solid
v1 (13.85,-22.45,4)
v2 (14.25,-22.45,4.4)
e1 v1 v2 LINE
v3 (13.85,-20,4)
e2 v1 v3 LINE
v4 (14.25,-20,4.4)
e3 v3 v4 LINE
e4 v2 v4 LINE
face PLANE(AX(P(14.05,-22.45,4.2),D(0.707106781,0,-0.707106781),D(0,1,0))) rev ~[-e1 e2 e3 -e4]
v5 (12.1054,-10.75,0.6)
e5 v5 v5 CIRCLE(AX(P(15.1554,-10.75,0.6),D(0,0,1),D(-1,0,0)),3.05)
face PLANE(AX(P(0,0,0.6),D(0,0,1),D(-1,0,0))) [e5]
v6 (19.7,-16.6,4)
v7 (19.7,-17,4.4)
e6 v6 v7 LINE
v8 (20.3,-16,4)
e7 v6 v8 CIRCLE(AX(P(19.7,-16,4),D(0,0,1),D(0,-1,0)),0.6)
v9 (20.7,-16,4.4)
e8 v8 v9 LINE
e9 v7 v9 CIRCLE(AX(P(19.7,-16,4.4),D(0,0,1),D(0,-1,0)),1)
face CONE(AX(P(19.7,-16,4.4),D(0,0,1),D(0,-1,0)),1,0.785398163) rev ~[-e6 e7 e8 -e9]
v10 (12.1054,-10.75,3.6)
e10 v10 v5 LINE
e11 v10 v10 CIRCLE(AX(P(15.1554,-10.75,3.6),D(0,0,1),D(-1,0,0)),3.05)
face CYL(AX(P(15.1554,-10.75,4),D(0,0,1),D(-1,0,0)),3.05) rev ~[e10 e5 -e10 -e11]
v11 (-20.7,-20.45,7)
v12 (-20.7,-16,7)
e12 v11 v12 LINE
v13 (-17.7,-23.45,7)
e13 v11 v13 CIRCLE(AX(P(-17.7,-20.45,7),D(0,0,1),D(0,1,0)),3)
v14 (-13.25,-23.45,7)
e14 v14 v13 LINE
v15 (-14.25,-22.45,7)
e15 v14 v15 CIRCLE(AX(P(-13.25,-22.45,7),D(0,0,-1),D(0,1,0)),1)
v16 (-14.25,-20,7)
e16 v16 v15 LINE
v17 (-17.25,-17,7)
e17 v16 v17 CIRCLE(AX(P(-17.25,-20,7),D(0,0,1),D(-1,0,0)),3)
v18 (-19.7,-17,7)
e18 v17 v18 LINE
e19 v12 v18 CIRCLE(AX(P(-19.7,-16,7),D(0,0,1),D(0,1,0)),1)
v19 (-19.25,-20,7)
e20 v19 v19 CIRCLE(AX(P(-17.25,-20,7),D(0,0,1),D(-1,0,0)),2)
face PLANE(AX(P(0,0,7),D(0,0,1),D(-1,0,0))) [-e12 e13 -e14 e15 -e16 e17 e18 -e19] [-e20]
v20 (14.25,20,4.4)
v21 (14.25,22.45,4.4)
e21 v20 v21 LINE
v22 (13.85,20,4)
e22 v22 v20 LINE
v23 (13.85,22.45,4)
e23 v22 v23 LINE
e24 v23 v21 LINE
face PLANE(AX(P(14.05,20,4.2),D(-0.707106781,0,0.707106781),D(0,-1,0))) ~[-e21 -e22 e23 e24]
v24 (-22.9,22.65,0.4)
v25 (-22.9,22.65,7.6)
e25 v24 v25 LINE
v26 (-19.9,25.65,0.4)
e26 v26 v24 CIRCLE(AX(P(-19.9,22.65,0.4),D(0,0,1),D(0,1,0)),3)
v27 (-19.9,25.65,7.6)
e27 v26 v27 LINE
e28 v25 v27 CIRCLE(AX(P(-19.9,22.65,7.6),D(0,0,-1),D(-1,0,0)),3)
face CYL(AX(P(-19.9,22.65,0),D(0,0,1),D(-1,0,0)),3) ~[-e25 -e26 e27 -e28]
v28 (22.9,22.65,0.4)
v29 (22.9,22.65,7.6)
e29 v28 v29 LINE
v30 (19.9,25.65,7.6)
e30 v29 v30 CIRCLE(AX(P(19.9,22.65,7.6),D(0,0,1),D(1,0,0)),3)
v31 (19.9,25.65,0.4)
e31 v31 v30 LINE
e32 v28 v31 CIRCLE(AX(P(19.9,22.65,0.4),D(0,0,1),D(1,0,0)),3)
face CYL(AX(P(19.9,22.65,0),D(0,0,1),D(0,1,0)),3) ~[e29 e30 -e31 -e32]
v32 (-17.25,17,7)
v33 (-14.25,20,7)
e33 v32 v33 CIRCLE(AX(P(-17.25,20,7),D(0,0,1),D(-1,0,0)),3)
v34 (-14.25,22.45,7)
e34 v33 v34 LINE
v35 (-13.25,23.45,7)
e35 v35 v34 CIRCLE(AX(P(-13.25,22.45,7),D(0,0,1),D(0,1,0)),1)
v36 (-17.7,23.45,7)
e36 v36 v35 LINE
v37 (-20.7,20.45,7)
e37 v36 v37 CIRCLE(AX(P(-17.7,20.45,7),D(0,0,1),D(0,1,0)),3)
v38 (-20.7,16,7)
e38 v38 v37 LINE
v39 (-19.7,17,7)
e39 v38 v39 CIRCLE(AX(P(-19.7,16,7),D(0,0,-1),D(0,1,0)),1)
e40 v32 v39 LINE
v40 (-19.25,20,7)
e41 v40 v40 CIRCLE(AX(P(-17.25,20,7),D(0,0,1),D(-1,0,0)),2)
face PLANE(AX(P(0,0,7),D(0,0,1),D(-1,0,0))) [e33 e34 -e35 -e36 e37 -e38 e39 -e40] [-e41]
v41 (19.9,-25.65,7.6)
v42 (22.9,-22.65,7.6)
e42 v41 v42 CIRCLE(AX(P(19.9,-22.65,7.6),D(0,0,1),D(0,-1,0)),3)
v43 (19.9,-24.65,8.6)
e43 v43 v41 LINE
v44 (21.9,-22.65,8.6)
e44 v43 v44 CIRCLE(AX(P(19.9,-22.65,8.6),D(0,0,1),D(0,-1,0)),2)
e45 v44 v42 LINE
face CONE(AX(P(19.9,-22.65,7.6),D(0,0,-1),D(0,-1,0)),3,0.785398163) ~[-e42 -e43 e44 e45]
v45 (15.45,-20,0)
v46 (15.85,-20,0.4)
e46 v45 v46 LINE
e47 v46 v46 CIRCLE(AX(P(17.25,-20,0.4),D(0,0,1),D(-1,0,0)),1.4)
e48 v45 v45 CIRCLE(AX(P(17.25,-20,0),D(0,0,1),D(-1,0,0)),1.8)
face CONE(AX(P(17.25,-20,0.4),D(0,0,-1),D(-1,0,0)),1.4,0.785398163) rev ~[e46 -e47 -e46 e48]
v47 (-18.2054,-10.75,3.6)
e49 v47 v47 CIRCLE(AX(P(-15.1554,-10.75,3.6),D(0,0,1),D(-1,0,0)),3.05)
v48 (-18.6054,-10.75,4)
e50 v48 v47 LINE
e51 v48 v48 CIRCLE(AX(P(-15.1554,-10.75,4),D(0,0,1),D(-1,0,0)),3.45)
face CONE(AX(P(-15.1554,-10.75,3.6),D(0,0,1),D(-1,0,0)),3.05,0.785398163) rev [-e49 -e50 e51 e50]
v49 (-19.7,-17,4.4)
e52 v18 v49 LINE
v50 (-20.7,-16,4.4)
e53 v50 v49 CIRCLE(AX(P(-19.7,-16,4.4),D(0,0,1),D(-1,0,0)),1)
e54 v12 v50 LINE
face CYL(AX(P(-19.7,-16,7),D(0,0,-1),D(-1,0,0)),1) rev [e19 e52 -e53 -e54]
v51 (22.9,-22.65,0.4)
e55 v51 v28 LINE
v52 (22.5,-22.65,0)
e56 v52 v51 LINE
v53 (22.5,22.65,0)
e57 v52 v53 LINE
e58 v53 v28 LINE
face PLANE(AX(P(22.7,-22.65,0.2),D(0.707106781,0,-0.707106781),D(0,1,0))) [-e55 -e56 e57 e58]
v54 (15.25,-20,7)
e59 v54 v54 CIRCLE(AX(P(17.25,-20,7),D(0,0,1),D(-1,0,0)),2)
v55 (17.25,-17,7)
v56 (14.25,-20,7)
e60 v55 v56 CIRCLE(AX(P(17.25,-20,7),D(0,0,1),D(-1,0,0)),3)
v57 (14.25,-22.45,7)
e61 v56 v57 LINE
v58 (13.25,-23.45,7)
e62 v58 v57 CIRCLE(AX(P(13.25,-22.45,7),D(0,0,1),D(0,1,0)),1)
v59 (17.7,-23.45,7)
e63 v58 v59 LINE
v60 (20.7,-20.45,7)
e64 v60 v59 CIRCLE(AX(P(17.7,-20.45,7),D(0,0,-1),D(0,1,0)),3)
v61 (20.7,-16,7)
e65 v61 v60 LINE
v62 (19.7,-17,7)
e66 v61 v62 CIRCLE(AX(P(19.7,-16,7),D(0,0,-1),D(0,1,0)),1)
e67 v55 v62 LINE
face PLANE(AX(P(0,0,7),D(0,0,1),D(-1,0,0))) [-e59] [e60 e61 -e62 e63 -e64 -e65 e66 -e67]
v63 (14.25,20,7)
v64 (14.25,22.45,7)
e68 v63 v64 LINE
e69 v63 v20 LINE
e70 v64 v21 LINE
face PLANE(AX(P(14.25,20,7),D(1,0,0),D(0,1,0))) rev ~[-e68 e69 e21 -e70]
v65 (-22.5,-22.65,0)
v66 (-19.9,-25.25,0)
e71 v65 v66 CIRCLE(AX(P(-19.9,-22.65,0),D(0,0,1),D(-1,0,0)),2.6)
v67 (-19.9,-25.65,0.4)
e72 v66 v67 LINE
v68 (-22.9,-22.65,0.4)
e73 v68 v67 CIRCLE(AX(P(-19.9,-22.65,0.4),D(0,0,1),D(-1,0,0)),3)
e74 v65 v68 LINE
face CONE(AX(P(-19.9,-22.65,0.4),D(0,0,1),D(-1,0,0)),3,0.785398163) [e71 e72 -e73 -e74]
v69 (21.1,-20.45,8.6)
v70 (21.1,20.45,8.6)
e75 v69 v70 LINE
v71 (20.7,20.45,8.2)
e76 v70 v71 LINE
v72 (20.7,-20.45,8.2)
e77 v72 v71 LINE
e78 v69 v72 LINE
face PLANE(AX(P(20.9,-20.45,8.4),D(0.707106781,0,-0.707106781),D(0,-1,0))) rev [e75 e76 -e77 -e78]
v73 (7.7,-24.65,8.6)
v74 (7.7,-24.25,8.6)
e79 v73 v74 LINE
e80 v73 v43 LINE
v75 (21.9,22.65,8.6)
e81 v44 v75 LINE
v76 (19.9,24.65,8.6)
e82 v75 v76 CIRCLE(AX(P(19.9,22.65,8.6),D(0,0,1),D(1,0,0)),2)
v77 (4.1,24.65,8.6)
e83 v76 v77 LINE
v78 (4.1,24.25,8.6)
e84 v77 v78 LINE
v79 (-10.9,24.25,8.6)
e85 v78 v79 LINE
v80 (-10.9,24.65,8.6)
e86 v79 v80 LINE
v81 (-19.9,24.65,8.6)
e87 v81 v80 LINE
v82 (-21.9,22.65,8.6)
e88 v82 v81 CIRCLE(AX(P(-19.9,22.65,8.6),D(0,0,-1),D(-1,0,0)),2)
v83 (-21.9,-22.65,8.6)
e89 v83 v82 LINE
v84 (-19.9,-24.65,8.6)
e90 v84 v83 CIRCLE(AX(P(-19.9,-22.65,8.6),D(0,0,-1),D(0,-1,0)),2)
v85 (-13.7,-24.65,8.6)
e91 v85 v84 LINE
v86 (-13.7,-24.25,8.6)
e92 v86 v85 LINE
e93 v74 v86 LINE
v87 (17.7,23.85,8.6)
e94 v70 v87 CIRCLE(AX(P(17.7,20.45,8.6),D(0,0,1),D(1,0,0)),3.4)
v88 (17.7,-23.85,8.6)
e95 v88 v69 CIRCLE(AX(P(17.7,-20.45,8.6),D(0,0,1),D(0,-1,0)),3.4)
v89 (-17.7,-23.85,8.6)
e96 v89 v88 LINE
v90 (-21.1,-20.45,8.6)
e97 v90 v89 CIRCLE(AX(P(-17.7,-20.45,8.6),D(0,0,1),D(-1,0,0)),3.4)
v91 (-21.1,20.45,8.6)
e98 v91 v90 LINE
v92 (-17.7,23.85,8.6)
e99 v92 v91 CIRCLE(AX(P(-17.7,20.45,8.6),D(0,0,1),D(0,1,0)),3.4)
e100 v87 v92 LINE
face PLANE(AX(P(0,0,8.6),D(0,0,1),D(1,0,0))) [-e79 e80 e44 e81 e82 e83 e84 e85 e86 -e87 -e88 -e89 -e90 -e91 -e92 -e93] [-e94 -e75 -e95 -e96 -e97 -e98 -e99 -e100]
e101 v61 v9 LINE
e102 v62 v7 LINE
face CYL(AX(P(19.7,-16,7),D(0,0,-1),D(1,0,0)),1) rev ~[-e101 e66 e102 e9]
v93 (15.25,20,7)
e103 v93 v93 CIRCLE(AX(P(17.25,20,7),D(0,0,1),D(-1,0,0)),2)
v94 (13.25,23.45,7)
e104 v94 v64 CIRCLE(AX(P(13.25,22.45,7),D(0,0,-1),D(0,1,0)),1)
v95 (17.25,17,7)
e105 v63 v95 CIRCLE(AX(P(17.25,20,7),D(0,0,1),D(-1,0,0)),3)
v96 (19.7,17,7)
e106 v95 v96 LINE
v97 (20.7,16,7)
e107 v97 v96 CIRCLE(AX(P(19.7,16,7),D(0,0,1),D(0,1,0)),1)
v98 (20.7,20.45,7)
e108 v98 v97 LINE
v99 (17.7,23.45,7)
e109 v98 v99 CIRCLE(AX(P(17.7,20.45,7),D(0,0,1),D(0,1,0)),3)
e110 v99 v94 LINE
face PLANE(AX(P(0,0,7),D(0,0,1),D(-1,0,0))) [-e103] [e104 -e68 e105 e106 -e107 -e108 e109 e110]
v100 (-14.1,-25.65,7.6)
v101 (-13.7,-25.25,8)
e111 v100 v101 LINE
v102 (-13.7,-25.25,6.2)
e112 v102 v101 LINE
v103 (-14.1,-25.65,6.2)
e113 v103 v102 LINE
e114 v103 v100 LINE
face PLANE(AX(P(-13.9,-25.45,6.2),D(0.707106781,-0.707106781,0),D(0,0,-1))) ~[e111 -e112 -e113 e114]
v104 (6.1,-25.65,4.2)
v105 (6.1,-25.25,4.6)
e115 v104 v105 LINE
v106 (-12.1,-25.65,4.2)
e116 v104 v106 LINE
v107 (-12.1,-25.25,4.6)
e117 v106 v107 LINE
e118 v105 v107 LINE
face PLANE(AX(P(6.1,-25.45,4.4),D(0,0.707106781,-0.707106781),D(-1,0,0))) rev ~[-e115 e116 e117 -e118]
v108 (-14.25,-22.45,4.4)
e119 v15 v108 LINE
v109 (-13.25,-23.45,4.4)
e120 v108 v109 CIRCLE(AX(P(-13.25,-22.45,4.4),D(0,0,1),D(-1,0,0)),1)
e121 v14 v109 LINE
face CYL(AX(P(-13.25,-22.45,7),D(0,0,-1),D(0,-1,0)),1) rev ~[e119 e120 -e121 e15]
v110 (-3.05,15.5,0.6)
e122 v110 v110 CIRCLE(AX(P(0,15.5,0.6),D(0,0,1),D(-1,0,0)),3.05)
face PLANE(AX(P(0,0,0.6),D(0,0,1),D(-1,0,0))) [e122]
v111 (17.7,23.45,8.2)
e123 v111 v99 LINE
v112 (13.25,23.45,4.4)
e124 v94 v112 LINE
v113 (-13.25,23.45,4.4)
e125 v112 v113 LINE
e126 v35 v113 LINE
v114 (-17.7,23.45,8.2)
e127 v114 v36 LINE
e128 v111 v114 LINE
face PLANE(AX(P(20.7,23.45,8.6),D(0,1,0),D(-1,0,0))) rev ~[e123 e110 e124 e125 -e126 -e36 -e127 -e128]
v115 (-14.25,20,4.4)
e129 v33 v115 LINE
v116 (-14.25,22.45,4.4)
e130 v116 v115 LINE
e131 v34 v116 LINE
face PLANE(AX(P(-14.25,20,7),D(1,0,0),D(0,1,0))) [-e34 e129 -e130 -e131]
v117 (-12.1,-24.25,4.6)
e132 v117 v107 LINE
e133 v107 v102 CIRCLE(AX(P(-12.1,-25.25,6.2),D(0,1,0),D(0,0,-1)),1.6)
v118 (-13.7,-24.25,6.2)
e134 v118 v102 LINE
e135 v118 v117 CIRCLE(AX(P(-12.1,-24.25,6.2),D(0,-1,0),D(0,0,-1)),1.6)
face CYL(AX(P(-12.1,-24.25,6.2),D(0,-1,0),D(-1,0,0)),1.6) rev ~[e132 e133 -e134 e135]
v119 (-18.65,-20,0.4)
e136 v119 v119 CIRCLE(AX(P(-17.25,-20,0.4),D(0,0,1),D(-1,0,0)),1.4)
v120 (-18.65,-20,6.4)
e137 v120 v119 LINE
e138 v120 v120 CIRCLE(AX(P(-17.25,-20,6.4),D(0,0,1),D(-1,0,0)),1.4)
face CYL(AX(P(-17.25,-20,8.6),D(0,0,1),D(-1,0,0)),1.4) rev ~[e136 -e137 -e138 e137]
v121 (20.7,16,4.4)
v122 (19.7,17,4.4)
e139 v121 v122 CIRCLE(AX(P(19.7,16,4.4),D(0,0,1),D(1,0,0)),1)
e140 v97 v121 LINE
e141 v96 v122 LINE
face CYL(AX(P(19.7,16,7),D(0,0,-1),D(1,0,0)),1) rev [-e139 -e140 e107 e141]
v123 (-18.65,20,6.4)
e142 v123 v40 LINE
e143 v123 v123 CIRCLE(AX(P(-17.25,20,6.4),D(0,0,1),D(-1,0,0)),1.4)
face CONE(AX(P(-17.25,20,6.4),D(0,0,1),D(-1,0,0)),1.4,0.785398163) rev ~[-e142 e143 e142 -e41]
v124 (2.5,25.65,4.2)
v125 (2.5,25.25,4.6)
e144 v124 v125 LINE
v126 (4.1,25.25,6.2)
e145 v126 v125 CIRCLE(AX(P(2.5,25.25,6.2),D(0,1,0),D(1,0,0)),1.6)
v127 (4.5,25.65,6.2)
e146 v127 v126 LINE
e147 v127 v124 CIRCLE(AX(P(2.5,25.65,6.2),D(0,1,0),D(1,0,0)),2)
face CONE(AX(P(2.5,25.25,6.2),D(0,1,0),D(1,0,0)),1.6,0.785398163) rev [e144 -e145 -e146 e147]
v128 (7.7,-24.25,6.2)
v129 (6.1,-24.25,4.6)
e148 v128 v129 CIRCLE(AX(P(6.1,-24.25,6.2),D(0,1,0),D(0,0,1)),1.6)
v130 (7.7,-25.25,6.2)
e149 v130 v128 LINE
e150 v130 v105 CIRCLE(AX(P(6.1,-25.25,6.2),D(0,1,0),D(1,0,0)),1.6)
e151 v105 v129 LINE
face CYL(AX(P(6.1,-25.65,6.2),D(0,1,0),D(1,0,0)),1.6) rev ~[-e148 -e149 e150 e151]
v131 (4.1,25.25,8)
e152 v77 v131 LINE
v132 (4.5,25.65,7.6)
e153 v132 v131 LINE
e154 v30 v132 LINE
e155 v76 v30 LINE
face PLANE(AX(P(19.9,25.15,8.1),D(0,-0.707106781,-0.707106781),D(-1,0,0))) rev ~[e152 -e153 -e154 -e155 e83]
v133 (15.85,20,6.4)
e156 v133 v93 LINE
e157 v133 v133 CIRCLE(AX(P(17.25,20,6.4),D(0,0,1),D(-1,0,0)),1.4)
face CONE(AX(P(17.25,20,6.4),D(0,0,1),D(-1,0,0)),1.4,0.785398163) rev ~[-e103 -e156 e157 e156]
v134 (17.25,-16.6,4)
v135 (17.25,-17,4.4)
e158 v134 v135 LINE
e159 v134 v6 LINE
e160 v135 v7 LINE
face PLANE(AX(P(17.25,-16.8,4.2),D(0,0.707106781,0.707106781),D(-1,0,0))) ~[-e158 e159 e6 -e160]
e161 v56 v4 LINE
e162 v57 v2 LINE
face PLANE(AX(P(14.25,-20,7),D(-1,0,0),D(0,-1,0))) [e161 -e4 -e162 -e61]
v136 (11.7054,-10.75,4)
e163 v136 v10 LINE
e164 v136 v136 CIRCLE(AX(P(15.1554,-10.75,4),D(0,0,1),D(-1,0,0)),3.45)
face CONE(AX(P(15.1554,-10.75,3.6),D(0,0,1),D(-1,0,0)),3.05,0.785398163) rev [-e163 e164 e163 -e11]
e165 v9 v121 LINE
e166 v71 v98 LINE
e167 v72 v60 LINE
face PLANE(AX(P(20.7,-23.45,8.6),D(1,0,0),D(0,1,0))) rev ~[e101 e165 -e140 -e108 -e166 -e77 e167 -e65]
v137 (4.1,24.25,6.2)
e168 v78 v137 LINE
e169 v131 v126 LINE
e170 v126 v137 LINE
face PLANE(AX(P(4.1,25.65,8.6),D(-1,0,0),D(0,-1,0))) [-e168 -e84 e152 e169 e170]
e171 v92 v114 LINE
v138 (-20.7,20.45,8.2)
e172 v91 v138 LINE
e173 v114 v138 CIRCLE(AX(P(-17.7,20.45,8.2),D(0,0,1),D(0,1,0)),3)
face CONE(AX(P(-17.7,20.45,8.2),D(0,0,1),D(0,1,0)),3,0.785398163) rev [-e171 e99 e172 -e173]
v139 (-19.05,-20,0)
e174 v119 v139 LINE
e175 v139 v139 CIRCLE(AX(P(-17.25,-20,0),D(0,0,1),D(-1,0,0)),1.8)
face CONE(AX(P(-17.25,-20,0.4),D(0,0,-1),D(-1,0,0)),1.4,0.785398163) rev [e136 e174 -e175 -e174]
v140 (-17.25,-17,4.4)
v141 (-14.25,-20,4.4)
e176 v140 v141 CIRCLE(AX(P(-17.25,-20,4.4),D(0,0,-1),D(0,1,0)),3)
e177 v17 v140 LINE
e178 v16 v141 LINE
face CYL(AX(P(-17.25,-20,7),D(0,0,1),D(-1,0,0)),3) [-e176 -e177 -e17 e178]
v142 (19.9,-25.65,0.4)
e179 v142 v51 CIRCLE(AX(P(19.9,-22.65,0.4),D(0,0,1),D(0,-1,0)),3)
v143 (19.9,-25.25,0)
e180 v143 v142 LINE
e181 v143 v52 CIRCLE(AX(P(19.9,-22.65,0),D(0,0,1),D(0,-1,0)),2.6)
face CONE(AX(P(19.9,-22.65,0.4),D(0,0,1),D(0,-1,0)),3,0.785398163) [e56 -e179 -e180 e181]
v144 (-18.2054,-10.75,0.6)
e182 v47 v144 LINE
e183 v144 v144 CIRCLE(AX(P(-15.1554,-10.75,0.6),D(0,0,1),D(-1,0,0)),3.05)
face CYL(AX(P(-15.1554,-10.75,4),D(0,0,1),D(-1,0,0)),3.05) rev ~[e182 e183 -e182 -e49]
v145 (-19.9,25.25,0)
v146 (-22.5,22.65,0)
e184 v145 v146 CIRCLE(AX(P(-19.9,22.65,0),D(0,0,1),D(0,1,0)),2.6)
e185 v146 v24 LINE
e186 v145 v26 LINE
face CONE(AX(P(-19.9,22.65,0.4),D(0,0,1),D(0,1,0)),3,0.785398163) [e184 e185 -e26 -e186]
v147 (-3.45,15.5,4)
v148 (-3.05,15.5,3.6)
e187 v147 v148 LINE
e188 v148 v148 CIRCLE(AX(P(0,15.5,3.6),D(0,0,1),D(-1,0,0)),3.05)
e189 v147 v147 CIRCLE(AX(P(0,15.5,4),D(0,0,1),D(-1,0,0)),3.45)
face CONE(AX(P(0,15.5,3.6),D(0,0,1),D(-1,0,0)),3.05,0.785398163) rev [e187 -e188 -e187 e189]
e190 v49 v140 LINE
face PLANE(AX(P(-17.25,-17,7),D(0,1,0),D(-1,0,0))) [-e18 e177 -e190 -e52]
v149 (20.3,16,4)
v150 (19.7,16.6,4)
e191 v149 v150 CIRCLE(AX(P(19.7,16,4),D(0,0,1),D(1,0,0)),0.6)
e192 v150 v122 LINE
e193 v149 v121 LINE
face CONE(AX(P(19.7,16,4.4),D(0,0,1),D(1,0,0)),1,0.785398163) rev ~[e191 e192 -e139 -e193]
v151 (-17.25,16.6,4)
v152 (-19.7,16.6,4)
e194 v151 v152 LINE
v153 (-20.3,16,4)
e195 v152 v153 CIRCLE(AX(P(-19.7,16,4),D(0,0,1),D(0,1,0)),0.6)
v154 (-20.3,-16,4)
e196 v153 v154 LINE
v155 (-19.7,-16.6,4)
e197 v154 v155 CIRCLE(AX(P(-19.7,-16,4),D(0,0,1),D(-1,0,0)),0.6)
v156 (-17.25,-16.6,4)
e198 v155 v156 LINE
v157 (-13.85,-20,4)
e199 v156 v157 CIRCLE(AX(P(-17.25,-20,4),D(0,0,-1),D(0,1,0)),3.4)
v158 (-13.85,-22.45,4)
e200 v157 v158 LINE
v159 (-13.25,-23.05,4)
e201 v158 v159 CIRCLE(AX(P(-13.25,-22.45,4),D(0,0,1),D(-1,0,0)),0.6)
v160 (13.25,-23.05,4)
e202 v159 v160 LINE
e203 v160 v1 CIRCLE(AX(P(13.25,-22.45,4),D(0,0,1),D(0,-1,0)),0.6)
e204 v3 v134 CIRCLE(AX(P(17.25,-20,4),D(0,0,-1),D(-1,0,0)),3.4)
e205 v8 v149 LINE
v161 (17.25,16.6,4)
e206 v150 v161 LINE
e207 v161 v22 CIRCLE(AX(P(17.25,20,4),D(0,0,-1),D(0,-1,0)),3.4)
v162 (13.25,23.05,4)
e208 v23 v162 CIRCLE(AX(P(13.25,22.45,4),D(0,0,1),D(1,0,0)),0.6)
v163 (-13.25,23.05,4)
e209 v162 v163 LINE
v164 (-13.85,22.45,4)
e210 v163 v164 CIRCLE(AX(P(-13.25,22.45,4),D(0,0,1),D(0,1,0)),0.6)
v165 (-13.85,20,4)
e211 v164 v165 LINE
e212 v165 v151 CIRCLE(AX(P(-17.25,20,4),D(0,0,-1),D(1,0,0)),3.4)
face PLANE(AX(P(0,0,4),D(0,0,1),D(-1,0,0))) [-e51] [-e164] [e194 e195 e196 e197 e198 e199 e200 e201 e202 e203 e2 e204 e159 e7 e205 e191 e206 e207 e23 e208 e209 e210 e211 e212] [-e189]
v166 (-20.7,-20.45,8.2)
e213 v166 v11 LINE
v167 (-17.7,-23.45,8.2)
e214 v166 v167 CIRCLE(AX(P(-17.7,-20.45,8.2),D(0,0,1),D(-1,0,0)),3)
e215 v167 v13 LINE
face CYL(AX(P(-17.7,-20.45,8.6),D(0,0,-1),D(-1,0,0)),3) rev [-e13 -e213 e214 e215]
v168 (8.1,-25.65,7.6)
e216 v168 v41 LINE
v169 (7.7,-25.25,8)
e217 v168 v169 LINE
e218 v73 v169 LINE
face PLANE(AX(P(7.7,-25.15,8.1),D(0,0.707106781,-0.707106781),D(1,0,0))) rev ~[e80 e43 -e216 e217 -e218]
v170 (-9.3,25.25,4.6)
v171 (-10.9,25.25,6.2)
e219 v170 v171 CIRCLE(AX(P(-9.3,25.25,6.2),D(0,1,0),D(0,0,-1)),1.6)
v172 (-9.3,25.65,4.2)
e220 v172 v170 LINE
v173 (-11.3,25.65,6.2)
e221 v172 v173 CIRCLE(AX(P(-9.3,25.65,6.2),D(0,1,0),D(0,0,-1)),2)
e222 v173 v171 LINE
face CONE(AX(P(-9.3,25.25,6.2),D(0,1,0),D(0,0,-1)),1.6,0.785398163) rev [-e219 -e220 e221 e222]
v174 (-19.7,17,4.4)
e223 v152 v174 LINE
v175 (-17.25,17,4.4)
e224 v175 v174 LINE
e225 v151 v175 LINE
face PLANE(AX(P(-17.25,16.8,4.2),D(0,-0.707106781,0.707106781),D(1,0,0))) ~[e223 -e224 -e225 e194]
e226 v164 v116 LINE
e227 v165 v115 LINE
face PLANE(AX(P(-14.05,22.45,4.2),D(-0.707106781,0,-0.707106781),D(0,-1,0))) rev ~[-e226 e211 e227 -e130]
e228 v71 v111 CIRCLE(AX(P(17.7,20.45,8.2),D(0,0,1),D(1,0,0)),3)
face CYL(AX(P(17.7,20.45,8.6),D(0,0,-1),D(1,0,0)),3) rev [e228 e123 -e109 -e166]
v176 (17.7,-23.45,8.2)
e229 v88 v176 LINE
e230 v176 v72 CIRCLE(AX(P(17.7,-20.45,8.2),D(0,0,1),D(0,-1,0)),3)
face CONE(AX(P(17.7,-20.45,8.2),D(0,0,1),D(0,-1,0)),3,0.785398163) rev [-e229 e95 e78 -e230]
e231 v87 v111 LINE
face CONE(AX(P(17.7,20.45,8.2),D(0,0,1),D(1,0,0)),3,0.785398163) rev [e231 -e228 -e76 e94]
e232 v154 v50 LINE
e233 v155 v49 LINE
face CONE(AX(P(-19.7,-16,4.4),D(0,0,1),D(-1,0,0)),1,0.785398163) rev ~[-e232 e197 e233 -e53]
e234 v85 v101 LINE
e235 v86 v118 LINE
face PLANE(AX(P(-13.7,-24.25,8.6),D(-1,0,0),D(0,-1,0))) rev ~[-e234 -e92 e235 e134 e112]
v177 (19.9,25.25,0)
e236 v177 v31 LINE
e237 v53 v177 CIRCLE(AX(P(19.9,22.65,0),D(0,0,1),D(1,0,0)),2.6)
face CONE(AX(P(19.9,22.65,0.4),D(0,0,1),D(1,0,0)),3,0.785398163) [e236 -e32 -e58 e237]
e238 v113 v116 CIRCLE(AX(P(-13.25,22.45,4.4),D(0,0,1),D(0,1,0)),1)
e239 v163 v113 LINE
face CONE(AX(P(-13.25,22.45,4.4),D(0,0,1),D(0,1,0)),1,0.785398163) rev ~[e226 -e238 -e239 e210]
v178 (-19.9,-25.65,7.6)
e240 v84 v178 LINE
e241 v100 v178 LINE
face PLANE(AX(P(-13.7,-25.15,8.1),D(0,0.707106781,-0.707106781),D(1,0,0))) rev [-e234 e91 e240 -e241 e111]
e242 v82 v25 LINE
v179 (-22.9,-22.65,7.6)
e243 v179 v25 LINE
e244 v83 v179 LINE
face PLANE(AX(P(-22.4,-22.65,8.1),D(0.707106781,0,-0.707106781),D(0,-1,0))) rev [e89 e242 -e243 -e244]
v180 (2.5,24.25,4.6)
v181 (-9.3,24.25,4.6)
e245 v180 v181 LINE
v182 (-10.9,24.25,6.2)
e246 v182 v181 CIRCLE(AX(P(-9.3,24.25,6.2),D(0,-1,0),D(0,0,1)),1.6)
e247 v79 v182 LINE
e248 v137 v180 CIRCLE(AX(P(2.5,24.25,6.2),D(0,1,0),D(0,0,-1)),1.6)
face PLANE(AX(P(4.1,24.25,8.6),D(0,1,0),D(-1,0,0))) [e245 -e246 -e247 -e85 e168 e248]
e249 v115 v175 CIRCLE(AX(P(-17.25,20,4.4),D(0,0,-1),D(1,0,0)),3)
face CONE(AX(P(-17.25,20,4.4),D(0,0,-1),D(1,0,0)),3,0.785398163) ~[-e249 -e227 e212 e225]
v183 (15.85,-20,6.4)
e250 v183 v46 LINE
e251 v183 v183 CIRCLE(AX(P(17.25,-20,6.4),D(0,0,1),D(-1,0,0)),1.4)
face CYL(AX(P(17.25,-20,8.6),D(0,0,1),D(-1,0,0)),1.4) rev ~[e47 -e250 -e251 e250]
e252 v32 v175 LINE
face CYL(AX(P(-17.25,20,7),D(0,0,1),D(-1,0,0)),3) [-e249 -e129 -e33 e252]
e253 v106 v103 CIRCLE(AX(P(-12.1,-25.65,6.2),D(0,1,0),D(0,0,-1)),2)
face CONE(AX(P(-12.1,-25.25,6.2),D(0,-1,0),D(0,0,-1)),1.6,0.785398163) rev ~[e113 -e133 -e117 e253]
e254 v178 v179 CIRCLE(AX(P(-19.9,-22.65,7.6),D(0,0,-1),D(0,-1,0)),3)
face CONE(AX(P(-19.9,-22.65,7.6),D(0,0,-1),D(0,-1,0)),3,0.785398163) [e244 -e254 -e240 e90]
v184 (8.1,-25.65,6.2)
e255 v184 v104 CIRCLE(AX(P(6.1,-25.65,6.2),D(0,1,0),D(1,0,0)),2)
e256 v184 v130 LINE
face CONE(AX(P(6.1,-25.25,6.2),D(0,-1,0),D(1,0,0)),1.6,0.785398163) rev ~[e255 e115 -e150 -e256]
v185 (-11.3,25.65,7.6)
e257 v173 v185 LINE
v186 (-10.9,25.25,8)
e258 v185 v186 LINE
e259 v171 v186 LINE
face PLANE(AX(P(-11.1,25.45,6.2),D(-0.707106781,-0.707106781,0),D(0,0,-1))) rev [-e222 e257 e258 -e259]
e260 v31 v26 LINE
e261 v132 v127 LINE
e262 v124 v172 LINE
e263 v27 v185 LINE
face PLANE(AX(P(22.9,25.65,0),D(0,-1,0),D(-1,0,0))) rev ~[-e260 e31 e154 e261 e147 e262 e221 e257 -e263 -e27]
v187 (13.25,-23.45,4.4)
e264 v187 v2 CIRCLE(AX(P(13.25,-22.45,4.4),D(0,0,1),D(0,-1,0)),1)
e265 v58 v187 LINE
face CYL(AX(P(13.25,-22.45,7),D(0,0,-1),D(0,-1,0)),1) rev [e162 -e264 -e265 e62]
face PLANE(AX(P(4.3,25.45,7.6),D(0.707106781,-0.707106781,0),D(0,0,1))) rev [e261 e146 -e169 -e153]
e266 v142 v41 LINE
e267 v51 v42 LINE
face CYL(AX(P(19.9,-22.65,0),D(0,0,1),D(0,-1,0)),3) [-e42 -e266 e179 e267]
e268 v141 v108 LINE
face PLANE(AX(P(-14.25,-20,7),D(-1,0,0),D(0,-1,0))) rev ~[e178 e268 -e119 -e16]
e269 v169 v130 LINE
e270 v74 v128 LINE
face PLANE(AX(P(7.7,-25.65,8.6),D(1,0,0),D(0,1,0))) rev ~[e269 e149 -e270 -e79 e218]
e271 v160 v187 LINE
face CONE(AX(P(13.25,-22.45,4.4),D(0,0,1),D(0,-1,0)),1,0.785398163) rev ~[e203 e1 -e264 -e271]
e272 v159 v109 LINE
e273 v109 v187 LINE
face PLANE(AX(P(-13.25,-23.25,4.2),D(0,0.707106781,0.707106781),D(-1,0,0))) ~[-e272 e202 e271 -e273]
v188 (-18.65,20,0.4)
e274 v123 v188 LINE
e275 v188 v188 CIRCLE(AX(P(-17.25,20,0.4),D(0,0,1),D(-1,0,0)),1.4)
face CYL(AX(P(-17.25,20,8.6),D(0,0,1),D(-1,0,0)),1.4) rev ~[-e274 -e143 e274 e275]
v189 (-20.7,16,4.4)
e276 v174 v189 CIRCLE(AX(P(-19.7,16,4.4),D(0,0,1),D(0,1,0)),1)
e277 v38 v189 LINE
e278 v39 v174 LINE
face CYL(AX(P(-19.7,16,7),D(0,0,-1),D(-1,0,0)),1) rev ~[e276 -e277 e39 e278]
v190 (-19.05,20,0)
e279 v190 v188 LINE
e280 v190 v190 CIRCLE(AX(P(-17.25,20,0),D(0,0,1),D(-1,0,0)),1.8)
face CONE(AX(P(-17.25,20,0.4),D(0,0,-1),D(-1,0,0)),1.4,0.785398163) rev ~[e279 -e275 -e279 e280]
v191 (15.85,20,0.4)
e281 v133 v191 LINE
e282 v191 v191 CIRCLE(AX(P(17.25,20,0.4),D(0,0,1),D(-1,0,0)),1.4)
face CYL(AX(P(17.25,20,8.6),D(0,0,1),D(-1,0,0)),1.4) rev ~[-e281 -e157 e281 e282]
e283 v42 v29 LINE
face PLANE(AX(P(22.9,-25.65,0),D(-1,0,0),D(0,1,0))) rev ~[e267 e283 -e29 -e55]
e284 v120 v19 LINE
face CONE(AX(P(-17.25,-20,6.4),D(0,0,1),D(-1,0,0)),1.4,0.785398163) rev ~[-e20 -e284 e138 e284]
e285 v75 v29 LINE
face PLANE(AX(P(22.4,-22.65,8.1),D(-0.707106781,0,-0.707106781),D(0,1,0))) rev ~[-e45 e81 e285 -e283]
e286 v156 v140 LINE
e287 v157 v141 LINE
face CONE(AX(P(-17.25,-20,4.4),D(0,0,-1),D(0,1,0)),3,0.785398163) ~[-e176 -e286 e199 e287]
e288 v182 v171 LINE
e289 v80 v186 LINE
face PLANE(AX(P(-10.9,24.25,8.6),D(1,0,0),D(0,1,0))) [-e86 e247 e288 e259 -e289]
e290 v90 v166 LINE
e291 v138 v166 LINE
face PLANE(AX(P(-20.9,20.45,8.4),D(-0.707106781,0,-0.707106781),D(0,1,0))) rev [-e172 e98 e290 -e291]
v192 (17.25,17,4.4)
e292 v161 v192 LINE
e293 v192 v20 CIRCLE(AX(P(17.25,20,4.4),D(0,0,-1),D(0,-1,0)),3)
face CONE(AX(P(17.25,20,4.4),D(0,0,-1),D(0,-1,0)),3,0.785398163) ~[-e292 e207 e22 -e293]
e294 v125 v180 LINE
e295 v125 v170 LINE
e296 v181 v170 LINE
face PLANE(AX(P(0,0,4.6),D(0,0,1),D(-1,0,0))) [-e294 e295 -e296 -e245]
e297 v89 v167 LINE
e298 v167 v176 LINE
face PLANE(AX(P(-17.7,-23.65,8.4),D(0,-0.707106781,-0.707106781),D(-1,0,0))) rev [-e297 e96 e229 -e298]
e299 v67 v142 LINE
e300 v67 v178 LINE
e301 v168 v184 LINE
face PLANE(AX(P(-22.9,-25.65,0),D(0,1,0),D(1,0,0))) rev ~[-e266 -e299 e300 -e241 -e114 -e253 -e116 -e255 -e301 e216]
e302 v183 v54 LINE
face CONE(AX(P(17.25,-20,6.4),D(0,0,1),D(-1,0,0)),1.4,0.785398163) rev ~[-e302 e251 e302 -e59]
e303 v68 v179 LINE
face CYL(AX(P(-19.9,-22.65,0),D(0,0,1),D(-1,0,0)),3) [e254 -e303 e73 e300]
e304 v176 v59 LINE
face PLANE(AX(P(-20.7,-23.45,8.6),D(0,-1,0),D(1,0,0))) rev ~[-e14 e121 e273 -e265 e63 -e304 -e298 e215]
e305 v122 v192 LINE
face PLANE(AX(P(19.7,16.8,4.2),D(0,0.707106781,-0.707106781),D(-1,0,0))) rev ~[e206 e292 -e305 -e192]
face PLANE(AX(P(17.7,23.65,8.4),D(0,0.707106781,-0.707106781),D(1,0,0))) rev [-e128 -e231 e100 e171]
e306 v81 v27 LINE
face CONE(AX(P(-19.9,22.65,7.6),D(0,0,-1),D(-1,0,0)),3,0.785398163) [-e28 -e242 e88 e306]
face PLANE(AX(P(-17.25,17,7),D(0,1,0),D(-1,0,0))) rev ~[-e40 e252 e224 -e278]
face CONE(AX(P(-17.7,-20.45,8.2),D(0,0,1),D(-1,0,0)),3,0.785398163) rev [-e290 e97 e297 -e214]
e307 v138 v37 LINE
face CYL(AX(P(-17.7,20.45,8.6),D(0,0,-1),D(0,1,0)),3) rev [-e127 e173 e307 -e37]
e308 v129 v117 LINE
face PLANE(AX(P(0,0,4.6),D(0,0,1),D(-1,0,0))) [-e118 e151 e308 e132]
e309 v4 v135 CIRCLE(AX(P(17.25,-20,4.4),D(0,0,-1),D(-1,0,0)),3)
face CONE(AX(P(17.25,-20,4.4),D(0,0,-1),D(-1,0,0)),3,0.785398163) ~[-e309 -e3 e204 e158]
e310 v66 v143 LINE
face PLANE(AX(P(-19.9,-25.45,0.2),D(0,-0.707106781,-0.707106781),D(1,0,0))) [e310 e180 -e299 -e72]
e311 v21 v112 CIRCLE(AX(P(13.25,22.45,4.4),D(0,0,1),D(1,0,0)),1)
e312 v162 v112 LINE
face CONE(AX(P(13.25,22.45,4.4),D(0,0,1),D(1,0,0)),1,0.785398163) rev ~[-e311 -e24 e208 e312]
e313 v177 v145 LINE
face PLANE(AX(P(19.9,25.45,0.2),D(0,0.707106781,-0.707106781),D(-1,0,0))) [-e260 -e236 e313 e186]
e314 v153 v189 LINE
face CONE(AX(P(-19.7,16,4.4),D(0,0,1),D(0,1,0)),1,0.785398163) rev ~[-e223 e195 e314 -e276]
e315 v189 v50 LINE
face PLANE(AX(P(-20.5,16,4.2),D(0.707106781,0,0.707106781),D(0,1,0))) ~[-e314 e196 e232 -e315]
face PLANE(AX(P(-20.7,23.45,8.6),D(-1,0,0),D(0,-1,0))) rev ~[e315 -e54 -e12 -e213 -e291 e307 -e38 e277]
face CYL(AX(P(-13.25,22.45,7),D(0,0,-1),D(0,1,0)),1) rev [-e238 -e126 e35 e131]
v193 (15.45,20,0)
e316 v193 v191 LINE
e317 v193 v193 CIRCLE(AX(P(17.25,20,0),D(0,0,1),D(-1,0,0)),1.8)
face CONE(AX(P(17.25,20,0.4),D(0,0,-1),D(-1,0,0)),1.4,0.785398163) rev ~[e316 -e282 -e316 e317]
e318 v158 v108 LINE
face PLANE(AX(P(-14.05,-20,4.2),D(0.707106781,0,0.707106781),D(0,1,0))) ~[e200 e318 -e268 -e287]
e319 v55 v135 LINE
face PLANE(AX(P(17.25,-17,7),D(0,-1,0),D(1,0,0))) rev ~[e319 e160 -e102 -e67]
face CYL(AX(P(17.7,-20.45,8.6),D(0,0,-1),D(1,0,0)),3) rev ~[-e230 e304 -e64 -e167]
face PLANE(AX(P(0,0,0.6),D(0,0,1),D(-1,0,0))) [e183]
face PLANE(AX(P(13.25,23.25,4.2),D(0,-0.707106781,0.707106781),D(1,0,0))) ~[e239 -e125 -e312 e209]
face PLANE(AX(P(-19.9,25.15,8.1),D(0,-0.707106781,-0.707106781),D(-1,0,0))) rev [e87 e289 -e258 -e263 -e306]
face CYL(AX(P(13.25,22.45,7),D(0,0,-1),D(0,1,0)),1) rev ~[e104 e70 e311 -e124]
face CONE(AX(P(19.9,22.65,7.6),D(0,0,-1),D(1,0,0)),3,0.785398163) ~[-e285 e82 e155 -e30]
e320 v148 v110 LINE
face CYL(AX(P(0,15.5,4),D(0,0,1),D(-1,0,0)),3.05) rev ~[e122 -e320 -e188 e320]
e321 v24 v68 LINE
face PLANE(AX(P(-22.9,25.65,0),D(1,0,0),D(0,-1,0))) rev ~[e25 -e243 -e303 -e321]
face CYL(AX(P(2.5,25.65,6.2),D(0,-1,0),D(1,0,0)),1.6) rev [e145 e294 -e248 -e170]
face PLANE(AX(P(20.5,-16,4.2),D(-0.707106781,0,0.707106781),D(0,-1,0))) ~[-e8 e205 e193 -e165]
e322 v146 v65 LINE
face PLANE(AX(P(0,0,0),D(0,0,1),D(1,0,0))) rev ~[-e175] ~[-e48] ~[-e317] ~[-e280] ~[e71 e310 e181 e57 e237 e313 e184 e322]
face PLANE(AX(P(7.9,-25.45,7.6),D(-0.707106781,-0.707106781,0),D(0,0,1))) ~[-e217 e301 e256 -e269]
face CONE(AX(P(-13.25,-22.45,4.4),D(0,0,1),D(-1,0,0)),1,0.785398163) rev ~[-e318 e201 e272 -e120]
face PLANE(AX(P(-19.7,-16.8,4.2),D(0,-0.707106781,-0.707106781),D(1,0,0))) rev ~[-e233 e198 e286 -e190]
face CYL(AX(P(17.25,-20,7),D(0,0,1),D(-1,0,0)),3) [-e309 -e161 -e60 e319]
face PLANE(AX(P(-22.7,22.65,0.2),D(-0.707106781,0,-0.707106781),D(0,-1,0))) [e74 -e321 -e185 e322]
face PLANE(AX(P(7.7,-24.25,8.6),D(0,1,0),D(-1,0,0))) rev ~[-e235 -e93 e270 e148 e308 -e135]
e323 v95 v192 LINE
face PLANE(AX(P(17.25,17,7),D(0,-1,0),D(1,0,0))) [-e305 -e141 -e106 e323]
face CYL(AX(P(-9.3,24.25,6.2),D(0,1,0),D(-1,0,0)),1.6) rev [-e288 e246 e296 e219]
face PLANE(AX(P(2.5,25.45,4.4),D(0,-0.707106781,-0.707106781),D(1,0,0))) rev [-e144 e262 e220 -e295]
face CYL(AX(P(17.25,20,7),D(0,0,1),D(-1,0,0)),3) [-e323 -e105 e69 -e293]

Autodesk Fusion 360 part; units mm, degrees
sketch "Sketch1" plane through (0, 0, 0) normal (0, 0, 1) x (1, 0, 0)
  line L0 (20.5, 23.25) -> (-20.5, 23.25) construction
  line L1 (-20.5, 23.25) -> (-20.5, -23.25) construction
  line L2 (-20.5, -23.25) -> (20.5, -23.25) construction
  line L3 (20.5, -23.25) -> (20.5, 23.25) construction
  line L4 (20.5, 23.25) -> (-20.5, -23.25) construction
  line L5 (-20.5, 23.25) -> (20.5, -23.25) construction
  line L6 (-22.9, -25.65) -> (22.9, -25.65)
  line L7 (22.9, -25.65) -> (22.9, 25.65)
  line L8 (22.9, 25.65) -> (-22.9, 25.65)
  line L9 (-22.9, 25.65) -> (-22.9, -25.65)
  dimension "d2" = 46.5
  dimension "d3" = 41
  dimension "d4" = 2.4
extrude "Extrude1" add sketch "Sketch1" along normal blind 8.6
sketch "Sketch2" plane through (0, 0, 8.6) normal (0, 0, 1) x (-1, 0, 0)
  line L0 (22.9, -25.65) -> (22.9, 25.65)
  line L1 (22.9, 25.65) -> (-22.9, 25.65)
  line L2 (-22.9, 25.65) -> (-22.9, -25.65)
  line L3 (-22.9, -25.65) -> (22.9, -25.65)
  line L4 (-17.25, -20) -> (17.25, -20) construction
  line L5 (17.25, -20) -> (17.25, 20) construction
  line L6 (17.25, 20) -> (-17.25, 20) construction
  line L7 (-17.25, 20) -> (-17.25, -20) construction
  line L8 (-17.25, -20) -> (17.25, 20) construction
  line L9 (17.25, -20) -> (-17.25, 20) construction
  circle A0 centre (17.25, 20) radius 1.4
  circle A1 centre (-17.25, 20) radius 1.4
  circle A2 centre (-17.25, -20) radius 1.4
  circle A3 centre (17.25, -20) radius 1.4
  dimension "d7" = 2.8
  dimension "d8" = 40
  dimension "d9" = 34.5
extrude "Extrude2" cut sketch "Sketch2" against normal through all contours A0 | A1 | A2 | A3
sketch "Sketch3" plane through (0, 0, 8.6) normal (0, 0, 1) x (-1, 0, 0)
  circle A0 centre (17.25, 20) radius 1.4
  circle A1 centre (-17.25, 20) radius 1.4
  circle A2 centre (17.25, -20) radius 1.4
  circle A3 centre (-17.25, -20) radius 1.4
  line L0 (22.9, -25.65) -> (22.9, 25.65)
  line L1 (22.9, 25.65) -> (-22.9, 25.65)
  line L2 (-22.9, 25.65) -> (-22.9, -25.65)
  line L3 (-22.9, -25.65) -> (22.9, -25.65)
  line L4 (-20.7, -23.45) -> (20.7, -23.45)
  line L5 (20.7, -23.45) -> (20.7, 23.45)
  line L6 (20.7, 23.45) -> (-20.7, 23.45)
  line L7 (-20.7, 23.45) -> (-20.7, -23.45)
  line L8 (-20.7, -23.45) -> (20.7, 23.45) construction
  line L9 (20.7, -23.45) -> (-20.7, 23.45) construction
  dimension "d11" = 2.2
  dimension "d12" = 2.2
extrude "Extrude3" cut sketch "Sketch3" against normal blind 1.6 contours L4 L5 L6 L7
fillet "Fillet1" radius 3 4 edges at (-20.7, 23.45, 7.8) (20.7, 23.45, 7.8) (20.7, -23.45, 7.8) (-20.7, -23.45, 7.8)
fillet "Fillet2" radius 3 4 edges at (22.9, 25.65, 4.3) (22.9, -25.65, 4.3) (-22.9, -25.65, 4.3) (-22.9, 25.65, 4.3)
sketch "Sketch4" plane through (0, 0, 7) normal (0, 0, 1) x (-1, 0, 0)
  circle A0 centre (17.25, 20) radius 1.4
  circle A1 centre (-17.25, 20) radius 1.4
  circle A2 centre (-17.25, -20) radius 1.4
  circle A3 centre (17.25, -20) radius 1.4
  arc A4 (20.7, 20.45) -> (17.7, 23.45) centre (17.7, 20.45) ccw
  line L0 (17.7, 23.45) -> (-17.7, 23.45)
  arc A5 (-17.7, 23.45) -> (-20.7, 20.45) centre (-17.7, 20.45) ccw
  line L1 (-20.7, 20.45) -> (-20.7, -20.45)
  arc A6 (-20.7, -20.45) -> (-17.7, -23.45) centre (-17.7, -20.45) ccw
  line L2 (-17.7, -23.45) -> (17.7, -23.45)
  arc A7 (17.7, -23.45) -> (20.7, -20.45) centre (17.7, -20.45) ccw
  line L3 (20.7, -20.45) -> (20.7, 20.45)
  circle A8 centre (17.25, 20) radius 3
  circle A9 centre (-17.25, 20) radius 3
  line L4 (14.25, 20) -> (14.25, 23.45)
  line L5 (17.25, 17) -> (20.7, 17)
  line L6 (-14.25, 20) -> (-14.25, 23.45)
  line L7 (-17.25, 17) -> (-20.7, 17)
  line L8 (0, 0) -> (-20.7, 0) construction
  circle A10 centre (17.25, -20) radius 3
  line L9 (14.25, -20) -> (14.25, -23.45)
  line L10 (17.25, -17) -> (20.7, -17)
  line L11 (-14.25, -20) -> (-14.25, -23.45)
  circle A11 centre (-17.25, -20) radius 3
  line L12 (-17.25, -17) -> (-20.7, -17)
  dimension "d23" = 6
  dimension "d24" = 6
extrude "Extrude4" cut sketch "Sketch4" against normal blind 3 contours L0 L1 L2 L3 A8 A9 L4 L5 L6 L7 A10 L9 L10 L11 A11 L12
fillet "Fillet3" radius 1 8 edges at (-14.25, 23.45, 5.5) (-20.7, 17, 5.5) (14.25, 23.45, 5.5) (20.7, 17, 5.5) (20.7, -17, 5.5) (14.25, -23.45, 5.5) (-14.25, -23.45, 5.5) (-20.7, -17, 5.5)
sketch "Sketch5" plane through (0, 0, 4) normal (0, 0, 1) x (-1, 0, 0)
  arc A0 (20.7, 16) -> (19.7, 17) centre (19.7, 16) ccw
  line L0 (19.7, 17) -> (17.25, 17)
  arc A1 (14.25, 20) -> (17.25, 17) centre (17.25, 20) ccw
  line L1 (14.25, 20) -> (14.25, 22.45)
  arc A2 (14.25, 22.45) -> (13.25, 23.45) centre (13.25, 22.45) ccw
  line L2 (13.25, 23.45) -> (-13.25, 23.45)
  arc A3 (-13.25, 23.45) -> (-14.25, 22.45) centre (-13.25, 22.45) ccw
  line L3 (-14.25, 22.45) -> (-14.25, 20)
  arc A4 (-17.25, 17) -> (-14.25, 20) centre (-17.25, 20) ccw
  line L4 (-17.25, 17) -> (-19.7, 17)
  arc A5 (-19.7, 17) -> (-20.7, 16) centre (-19.7, 16) ccw
  line L5 (-20.7, 16) -> (-20.7, -16)
  arc A6 (-20.7, -16) -> (-19.7, -17) centre (-19.7, -16) ccw
  line L6 (-19.7, -17) -> (-17.25, -17)
  arc A7 (-14.25, -20) -> (-17.25, -17) centre (-17.25, -20) ccw
  line L7 (-14.25, -20) -> (-14.25, -22.45)
  arc A8 (-14.25, -22.45) -> (-13.25, -23.45) centre (-13.25, -22.45) ccw
  line L8 (-13.25, -23.45) -> (13.25, -23.45)
  arc A9 (13.25, -23.45) -> (14.25, -22.45) centre (13.25, -22.45) ccw
  line L9 (14.25, -22.45) -> (14.25, -20)
  arc A10 (17.25, -17) -> (14.25, -20) centre (17.25, -20) ccw
  line L10 (17.25, -17) -> (19.7, -17)
  arc A11 (19.7, -17) -> (20.7, -16) centre (19.7, -16) ccw
  line L11 (20.7, -16) -> (20.7, 16)
  circle A12 centre (0, 2) radius 17.5 construction
  line L12 (0, 0) -> (0, -15.5) construction
  circle A13 centre (0, -15.5) radius 3.05
  line L13 (0, 2) -> (15.1554, 10.75) construction
  line L14 (0, 2) -> (-15.1554, 10.75) construction
  circle A14 centre (15.1554, 10.75) radius 3.05
  circle A15 centre (-15.1554, 10.75) radius 3.05
  line L15 (0, 2) -> (0, 0) construction
  dimension "d25" = 6.1
  dimension "d26" = 120
  dimension "d27" = 120
  dimension "d28" = 6.1
  dimension "d29" = 6.1
  dimension "d30" = 35
  dimension "d50" = 2
extrude "Extrude5" cut sketch "Sketch5" against normal blind 3.4 contours A13 | A14 | A15
sketch "Sketch6" plane through (0, 0, 8.6) normal (0, 0, 1) x (-1, 0, 0)
  arc A0 (19.9, -25.65) -> (22.9, -22.65) centre (19.9, -22.65) ccw
  line L0 (22.9, -22.65) -> (22.9, 22.65)
  arc A1 (22.9, 22.65) -> (19.9, 25.65) centre (19.9, 22.65) ccw
  line L1 (19.9, 25.65) -> (-19.9, 25.65)
  arc A2 (-19.9, 25.65) -> (-22.9, 22.65) centre (-19.9, 22.65) ccw
  line L2 (-22.9, 22.65) -> (-22.9, -22.65)
  arc A3 (-22.9, -22.65) -> (-19.9, -25.65) centre (-19.9, -22.65) ccw
  line L3 (-19.9, -25.65) -> (19.9, -25.65)
  line L4 (17.7, -23.45) -> (-17.7, -23.45)
  arc A4 (-20.7, -20.45) -> (-17.7, -23.45) centre (-17.7, -20.45) ccw
  line L5 (-20.7, -20.45) -> (-20.7, 20.45)
  arc A5 (-17.7, 23.45) -> (-20.7, 20.45) centre (-17.7, 20.45) ccw
  line L6 (-17.7, 23.45) -> (17.7, 23.45)
  arc A6 (20.7, 20.45) -> (17.7, 23.45) centre (17.7, 20.45) ccw
  line L7 (20.7, 20.45) -> (20.7, -20.45)
  arc A7 (17.7, -23.45) -> (20.7, -20.45) centre (17.7, -20.45) ccw
  line L8 (10.9, -25.65) -> (-4.1, -25.65)
  line L9 (-4.1, -25.65) -> (-4.1, -24.25)
  line L10 (-4.1, -24.25) -> (10.9, -24.25)
  line L11 (10.9, -24.25) -> (10.9, -25.65)
  line L12 (0, 0) -> (3.4, 0)
  line L13 (3.4, 0) -> (3.4, -24.25) construction
  line L14 (13.7, 25.65) -> (-7.7, 25.65)
  line L15 (-7.7, 25.65) -> (-7.7, 24.25)
  line L16 (-7.7, 24.25) -> (13.7, 24.25)
  line L17 (13.7, 24.25) -> (13.7, 25.65)
  dimension "d34" = 15
  dimension "d35" = 3.4
  dimension "d38" = 0.8
  dimension "d39" = 0.8
  dimension "d41" = 7
  dimension "d42" = 13
extrude "Extrude6" cut sketch "Sketch6" against normal blind 4 contours L3 L8 L9 L10 L11 | L1 L14 L15 L16 L17
fillet "Fillet4" radius 1.6 4 edges at (-13.7, -24.95, 4.6) (7.7, -24.95, 4.6) (-10.9, 24.95, 4.6) (4.1, 24.95, 4.6)
chamfer "Chamfer1" distance 1 angle 45 10 edges at (22.9, 0, 8.6) (22.0213, 24.7713, 8.6) (12, 25.65, 8.6) (13.8, -25.65, 8.6) (22.0213, -24.7713, 8.6) (-22.0213, 24.7713, 8.6) (-15.4, 25.65, 8.6) (-16.8, -25.65, 8.6) (-22.0213, -24.7713, 8.6) (-22.9, 0, 8.6)
chamfer "Chamfer3" distance 0.6 angle 45 4 edges at (-15.9447, 20.5063, 7) (18.5553, 20.5063, 7) (18.5553, -19.4937, 7) (-15.9447, -19.4937, 7)
chamfer "Chamfer2" distance 0.4 angle 45 45 edges at (0, 23.45, 8.6) (19.8213, 22.5713, 8.6) (20.7, 0, 8.6) (19.8213, -22.5713, 8.6) (0, -23.45, 8.6) (-19.8213, -22.5713, 8.6) (-20.7, 0, 8.6) (-19.8213, 22.5713, 8.6) (-12.3118, -11.8529, 4) (17.999, -11.8529, 4) (2.8436, 14.3971, 4) (20.7, 0, 4) (20.4071, -16.7071, 4) (18.475, -17, 4) (15.1287, -17.8787, 4) (14.25, -21.225, 4) (13.9571, -23.1571, 4) (0, -23.45, 4) (-13.9571, -23.1571, 4) (-14.25, -21.225, 4) (-15.1287, -17.8787, 4) (-18.475, -17, 4) (-20.4071, -16.7071, 4) (-20.7, 0, 4) (-20.4071, 16.7071, 4) (-18.475, 17, 4) (-15.1287, 17.8787, 4) (-14.25, 21.225, 4) (-13.9571, 23.1571, 4) (0, 23.45, 4) (13.9571, 23.1571, 4) (14.25, 21.225, 4) (15.1287, 17.8787, 4) (18.475, 17, 4) (20.4071, 16.7071, 4) (7.2314, -25.65, 5.0686) (7.7, -25.65, 6.9) (-13.7, -25.65, 6.9) (-13.2314, -25.65, 5.0686) (-3, -25.65, 4.6) (3.6314, 25.65, 5.0686) (-3.4, 25.65, 4.6) (-10.4314, 25.65, 5.0686) (-10.9, 25.65, 6.9) (4.1, 25.65, 6.9) 1 faces at (-5.459, -6.3018, 0)
